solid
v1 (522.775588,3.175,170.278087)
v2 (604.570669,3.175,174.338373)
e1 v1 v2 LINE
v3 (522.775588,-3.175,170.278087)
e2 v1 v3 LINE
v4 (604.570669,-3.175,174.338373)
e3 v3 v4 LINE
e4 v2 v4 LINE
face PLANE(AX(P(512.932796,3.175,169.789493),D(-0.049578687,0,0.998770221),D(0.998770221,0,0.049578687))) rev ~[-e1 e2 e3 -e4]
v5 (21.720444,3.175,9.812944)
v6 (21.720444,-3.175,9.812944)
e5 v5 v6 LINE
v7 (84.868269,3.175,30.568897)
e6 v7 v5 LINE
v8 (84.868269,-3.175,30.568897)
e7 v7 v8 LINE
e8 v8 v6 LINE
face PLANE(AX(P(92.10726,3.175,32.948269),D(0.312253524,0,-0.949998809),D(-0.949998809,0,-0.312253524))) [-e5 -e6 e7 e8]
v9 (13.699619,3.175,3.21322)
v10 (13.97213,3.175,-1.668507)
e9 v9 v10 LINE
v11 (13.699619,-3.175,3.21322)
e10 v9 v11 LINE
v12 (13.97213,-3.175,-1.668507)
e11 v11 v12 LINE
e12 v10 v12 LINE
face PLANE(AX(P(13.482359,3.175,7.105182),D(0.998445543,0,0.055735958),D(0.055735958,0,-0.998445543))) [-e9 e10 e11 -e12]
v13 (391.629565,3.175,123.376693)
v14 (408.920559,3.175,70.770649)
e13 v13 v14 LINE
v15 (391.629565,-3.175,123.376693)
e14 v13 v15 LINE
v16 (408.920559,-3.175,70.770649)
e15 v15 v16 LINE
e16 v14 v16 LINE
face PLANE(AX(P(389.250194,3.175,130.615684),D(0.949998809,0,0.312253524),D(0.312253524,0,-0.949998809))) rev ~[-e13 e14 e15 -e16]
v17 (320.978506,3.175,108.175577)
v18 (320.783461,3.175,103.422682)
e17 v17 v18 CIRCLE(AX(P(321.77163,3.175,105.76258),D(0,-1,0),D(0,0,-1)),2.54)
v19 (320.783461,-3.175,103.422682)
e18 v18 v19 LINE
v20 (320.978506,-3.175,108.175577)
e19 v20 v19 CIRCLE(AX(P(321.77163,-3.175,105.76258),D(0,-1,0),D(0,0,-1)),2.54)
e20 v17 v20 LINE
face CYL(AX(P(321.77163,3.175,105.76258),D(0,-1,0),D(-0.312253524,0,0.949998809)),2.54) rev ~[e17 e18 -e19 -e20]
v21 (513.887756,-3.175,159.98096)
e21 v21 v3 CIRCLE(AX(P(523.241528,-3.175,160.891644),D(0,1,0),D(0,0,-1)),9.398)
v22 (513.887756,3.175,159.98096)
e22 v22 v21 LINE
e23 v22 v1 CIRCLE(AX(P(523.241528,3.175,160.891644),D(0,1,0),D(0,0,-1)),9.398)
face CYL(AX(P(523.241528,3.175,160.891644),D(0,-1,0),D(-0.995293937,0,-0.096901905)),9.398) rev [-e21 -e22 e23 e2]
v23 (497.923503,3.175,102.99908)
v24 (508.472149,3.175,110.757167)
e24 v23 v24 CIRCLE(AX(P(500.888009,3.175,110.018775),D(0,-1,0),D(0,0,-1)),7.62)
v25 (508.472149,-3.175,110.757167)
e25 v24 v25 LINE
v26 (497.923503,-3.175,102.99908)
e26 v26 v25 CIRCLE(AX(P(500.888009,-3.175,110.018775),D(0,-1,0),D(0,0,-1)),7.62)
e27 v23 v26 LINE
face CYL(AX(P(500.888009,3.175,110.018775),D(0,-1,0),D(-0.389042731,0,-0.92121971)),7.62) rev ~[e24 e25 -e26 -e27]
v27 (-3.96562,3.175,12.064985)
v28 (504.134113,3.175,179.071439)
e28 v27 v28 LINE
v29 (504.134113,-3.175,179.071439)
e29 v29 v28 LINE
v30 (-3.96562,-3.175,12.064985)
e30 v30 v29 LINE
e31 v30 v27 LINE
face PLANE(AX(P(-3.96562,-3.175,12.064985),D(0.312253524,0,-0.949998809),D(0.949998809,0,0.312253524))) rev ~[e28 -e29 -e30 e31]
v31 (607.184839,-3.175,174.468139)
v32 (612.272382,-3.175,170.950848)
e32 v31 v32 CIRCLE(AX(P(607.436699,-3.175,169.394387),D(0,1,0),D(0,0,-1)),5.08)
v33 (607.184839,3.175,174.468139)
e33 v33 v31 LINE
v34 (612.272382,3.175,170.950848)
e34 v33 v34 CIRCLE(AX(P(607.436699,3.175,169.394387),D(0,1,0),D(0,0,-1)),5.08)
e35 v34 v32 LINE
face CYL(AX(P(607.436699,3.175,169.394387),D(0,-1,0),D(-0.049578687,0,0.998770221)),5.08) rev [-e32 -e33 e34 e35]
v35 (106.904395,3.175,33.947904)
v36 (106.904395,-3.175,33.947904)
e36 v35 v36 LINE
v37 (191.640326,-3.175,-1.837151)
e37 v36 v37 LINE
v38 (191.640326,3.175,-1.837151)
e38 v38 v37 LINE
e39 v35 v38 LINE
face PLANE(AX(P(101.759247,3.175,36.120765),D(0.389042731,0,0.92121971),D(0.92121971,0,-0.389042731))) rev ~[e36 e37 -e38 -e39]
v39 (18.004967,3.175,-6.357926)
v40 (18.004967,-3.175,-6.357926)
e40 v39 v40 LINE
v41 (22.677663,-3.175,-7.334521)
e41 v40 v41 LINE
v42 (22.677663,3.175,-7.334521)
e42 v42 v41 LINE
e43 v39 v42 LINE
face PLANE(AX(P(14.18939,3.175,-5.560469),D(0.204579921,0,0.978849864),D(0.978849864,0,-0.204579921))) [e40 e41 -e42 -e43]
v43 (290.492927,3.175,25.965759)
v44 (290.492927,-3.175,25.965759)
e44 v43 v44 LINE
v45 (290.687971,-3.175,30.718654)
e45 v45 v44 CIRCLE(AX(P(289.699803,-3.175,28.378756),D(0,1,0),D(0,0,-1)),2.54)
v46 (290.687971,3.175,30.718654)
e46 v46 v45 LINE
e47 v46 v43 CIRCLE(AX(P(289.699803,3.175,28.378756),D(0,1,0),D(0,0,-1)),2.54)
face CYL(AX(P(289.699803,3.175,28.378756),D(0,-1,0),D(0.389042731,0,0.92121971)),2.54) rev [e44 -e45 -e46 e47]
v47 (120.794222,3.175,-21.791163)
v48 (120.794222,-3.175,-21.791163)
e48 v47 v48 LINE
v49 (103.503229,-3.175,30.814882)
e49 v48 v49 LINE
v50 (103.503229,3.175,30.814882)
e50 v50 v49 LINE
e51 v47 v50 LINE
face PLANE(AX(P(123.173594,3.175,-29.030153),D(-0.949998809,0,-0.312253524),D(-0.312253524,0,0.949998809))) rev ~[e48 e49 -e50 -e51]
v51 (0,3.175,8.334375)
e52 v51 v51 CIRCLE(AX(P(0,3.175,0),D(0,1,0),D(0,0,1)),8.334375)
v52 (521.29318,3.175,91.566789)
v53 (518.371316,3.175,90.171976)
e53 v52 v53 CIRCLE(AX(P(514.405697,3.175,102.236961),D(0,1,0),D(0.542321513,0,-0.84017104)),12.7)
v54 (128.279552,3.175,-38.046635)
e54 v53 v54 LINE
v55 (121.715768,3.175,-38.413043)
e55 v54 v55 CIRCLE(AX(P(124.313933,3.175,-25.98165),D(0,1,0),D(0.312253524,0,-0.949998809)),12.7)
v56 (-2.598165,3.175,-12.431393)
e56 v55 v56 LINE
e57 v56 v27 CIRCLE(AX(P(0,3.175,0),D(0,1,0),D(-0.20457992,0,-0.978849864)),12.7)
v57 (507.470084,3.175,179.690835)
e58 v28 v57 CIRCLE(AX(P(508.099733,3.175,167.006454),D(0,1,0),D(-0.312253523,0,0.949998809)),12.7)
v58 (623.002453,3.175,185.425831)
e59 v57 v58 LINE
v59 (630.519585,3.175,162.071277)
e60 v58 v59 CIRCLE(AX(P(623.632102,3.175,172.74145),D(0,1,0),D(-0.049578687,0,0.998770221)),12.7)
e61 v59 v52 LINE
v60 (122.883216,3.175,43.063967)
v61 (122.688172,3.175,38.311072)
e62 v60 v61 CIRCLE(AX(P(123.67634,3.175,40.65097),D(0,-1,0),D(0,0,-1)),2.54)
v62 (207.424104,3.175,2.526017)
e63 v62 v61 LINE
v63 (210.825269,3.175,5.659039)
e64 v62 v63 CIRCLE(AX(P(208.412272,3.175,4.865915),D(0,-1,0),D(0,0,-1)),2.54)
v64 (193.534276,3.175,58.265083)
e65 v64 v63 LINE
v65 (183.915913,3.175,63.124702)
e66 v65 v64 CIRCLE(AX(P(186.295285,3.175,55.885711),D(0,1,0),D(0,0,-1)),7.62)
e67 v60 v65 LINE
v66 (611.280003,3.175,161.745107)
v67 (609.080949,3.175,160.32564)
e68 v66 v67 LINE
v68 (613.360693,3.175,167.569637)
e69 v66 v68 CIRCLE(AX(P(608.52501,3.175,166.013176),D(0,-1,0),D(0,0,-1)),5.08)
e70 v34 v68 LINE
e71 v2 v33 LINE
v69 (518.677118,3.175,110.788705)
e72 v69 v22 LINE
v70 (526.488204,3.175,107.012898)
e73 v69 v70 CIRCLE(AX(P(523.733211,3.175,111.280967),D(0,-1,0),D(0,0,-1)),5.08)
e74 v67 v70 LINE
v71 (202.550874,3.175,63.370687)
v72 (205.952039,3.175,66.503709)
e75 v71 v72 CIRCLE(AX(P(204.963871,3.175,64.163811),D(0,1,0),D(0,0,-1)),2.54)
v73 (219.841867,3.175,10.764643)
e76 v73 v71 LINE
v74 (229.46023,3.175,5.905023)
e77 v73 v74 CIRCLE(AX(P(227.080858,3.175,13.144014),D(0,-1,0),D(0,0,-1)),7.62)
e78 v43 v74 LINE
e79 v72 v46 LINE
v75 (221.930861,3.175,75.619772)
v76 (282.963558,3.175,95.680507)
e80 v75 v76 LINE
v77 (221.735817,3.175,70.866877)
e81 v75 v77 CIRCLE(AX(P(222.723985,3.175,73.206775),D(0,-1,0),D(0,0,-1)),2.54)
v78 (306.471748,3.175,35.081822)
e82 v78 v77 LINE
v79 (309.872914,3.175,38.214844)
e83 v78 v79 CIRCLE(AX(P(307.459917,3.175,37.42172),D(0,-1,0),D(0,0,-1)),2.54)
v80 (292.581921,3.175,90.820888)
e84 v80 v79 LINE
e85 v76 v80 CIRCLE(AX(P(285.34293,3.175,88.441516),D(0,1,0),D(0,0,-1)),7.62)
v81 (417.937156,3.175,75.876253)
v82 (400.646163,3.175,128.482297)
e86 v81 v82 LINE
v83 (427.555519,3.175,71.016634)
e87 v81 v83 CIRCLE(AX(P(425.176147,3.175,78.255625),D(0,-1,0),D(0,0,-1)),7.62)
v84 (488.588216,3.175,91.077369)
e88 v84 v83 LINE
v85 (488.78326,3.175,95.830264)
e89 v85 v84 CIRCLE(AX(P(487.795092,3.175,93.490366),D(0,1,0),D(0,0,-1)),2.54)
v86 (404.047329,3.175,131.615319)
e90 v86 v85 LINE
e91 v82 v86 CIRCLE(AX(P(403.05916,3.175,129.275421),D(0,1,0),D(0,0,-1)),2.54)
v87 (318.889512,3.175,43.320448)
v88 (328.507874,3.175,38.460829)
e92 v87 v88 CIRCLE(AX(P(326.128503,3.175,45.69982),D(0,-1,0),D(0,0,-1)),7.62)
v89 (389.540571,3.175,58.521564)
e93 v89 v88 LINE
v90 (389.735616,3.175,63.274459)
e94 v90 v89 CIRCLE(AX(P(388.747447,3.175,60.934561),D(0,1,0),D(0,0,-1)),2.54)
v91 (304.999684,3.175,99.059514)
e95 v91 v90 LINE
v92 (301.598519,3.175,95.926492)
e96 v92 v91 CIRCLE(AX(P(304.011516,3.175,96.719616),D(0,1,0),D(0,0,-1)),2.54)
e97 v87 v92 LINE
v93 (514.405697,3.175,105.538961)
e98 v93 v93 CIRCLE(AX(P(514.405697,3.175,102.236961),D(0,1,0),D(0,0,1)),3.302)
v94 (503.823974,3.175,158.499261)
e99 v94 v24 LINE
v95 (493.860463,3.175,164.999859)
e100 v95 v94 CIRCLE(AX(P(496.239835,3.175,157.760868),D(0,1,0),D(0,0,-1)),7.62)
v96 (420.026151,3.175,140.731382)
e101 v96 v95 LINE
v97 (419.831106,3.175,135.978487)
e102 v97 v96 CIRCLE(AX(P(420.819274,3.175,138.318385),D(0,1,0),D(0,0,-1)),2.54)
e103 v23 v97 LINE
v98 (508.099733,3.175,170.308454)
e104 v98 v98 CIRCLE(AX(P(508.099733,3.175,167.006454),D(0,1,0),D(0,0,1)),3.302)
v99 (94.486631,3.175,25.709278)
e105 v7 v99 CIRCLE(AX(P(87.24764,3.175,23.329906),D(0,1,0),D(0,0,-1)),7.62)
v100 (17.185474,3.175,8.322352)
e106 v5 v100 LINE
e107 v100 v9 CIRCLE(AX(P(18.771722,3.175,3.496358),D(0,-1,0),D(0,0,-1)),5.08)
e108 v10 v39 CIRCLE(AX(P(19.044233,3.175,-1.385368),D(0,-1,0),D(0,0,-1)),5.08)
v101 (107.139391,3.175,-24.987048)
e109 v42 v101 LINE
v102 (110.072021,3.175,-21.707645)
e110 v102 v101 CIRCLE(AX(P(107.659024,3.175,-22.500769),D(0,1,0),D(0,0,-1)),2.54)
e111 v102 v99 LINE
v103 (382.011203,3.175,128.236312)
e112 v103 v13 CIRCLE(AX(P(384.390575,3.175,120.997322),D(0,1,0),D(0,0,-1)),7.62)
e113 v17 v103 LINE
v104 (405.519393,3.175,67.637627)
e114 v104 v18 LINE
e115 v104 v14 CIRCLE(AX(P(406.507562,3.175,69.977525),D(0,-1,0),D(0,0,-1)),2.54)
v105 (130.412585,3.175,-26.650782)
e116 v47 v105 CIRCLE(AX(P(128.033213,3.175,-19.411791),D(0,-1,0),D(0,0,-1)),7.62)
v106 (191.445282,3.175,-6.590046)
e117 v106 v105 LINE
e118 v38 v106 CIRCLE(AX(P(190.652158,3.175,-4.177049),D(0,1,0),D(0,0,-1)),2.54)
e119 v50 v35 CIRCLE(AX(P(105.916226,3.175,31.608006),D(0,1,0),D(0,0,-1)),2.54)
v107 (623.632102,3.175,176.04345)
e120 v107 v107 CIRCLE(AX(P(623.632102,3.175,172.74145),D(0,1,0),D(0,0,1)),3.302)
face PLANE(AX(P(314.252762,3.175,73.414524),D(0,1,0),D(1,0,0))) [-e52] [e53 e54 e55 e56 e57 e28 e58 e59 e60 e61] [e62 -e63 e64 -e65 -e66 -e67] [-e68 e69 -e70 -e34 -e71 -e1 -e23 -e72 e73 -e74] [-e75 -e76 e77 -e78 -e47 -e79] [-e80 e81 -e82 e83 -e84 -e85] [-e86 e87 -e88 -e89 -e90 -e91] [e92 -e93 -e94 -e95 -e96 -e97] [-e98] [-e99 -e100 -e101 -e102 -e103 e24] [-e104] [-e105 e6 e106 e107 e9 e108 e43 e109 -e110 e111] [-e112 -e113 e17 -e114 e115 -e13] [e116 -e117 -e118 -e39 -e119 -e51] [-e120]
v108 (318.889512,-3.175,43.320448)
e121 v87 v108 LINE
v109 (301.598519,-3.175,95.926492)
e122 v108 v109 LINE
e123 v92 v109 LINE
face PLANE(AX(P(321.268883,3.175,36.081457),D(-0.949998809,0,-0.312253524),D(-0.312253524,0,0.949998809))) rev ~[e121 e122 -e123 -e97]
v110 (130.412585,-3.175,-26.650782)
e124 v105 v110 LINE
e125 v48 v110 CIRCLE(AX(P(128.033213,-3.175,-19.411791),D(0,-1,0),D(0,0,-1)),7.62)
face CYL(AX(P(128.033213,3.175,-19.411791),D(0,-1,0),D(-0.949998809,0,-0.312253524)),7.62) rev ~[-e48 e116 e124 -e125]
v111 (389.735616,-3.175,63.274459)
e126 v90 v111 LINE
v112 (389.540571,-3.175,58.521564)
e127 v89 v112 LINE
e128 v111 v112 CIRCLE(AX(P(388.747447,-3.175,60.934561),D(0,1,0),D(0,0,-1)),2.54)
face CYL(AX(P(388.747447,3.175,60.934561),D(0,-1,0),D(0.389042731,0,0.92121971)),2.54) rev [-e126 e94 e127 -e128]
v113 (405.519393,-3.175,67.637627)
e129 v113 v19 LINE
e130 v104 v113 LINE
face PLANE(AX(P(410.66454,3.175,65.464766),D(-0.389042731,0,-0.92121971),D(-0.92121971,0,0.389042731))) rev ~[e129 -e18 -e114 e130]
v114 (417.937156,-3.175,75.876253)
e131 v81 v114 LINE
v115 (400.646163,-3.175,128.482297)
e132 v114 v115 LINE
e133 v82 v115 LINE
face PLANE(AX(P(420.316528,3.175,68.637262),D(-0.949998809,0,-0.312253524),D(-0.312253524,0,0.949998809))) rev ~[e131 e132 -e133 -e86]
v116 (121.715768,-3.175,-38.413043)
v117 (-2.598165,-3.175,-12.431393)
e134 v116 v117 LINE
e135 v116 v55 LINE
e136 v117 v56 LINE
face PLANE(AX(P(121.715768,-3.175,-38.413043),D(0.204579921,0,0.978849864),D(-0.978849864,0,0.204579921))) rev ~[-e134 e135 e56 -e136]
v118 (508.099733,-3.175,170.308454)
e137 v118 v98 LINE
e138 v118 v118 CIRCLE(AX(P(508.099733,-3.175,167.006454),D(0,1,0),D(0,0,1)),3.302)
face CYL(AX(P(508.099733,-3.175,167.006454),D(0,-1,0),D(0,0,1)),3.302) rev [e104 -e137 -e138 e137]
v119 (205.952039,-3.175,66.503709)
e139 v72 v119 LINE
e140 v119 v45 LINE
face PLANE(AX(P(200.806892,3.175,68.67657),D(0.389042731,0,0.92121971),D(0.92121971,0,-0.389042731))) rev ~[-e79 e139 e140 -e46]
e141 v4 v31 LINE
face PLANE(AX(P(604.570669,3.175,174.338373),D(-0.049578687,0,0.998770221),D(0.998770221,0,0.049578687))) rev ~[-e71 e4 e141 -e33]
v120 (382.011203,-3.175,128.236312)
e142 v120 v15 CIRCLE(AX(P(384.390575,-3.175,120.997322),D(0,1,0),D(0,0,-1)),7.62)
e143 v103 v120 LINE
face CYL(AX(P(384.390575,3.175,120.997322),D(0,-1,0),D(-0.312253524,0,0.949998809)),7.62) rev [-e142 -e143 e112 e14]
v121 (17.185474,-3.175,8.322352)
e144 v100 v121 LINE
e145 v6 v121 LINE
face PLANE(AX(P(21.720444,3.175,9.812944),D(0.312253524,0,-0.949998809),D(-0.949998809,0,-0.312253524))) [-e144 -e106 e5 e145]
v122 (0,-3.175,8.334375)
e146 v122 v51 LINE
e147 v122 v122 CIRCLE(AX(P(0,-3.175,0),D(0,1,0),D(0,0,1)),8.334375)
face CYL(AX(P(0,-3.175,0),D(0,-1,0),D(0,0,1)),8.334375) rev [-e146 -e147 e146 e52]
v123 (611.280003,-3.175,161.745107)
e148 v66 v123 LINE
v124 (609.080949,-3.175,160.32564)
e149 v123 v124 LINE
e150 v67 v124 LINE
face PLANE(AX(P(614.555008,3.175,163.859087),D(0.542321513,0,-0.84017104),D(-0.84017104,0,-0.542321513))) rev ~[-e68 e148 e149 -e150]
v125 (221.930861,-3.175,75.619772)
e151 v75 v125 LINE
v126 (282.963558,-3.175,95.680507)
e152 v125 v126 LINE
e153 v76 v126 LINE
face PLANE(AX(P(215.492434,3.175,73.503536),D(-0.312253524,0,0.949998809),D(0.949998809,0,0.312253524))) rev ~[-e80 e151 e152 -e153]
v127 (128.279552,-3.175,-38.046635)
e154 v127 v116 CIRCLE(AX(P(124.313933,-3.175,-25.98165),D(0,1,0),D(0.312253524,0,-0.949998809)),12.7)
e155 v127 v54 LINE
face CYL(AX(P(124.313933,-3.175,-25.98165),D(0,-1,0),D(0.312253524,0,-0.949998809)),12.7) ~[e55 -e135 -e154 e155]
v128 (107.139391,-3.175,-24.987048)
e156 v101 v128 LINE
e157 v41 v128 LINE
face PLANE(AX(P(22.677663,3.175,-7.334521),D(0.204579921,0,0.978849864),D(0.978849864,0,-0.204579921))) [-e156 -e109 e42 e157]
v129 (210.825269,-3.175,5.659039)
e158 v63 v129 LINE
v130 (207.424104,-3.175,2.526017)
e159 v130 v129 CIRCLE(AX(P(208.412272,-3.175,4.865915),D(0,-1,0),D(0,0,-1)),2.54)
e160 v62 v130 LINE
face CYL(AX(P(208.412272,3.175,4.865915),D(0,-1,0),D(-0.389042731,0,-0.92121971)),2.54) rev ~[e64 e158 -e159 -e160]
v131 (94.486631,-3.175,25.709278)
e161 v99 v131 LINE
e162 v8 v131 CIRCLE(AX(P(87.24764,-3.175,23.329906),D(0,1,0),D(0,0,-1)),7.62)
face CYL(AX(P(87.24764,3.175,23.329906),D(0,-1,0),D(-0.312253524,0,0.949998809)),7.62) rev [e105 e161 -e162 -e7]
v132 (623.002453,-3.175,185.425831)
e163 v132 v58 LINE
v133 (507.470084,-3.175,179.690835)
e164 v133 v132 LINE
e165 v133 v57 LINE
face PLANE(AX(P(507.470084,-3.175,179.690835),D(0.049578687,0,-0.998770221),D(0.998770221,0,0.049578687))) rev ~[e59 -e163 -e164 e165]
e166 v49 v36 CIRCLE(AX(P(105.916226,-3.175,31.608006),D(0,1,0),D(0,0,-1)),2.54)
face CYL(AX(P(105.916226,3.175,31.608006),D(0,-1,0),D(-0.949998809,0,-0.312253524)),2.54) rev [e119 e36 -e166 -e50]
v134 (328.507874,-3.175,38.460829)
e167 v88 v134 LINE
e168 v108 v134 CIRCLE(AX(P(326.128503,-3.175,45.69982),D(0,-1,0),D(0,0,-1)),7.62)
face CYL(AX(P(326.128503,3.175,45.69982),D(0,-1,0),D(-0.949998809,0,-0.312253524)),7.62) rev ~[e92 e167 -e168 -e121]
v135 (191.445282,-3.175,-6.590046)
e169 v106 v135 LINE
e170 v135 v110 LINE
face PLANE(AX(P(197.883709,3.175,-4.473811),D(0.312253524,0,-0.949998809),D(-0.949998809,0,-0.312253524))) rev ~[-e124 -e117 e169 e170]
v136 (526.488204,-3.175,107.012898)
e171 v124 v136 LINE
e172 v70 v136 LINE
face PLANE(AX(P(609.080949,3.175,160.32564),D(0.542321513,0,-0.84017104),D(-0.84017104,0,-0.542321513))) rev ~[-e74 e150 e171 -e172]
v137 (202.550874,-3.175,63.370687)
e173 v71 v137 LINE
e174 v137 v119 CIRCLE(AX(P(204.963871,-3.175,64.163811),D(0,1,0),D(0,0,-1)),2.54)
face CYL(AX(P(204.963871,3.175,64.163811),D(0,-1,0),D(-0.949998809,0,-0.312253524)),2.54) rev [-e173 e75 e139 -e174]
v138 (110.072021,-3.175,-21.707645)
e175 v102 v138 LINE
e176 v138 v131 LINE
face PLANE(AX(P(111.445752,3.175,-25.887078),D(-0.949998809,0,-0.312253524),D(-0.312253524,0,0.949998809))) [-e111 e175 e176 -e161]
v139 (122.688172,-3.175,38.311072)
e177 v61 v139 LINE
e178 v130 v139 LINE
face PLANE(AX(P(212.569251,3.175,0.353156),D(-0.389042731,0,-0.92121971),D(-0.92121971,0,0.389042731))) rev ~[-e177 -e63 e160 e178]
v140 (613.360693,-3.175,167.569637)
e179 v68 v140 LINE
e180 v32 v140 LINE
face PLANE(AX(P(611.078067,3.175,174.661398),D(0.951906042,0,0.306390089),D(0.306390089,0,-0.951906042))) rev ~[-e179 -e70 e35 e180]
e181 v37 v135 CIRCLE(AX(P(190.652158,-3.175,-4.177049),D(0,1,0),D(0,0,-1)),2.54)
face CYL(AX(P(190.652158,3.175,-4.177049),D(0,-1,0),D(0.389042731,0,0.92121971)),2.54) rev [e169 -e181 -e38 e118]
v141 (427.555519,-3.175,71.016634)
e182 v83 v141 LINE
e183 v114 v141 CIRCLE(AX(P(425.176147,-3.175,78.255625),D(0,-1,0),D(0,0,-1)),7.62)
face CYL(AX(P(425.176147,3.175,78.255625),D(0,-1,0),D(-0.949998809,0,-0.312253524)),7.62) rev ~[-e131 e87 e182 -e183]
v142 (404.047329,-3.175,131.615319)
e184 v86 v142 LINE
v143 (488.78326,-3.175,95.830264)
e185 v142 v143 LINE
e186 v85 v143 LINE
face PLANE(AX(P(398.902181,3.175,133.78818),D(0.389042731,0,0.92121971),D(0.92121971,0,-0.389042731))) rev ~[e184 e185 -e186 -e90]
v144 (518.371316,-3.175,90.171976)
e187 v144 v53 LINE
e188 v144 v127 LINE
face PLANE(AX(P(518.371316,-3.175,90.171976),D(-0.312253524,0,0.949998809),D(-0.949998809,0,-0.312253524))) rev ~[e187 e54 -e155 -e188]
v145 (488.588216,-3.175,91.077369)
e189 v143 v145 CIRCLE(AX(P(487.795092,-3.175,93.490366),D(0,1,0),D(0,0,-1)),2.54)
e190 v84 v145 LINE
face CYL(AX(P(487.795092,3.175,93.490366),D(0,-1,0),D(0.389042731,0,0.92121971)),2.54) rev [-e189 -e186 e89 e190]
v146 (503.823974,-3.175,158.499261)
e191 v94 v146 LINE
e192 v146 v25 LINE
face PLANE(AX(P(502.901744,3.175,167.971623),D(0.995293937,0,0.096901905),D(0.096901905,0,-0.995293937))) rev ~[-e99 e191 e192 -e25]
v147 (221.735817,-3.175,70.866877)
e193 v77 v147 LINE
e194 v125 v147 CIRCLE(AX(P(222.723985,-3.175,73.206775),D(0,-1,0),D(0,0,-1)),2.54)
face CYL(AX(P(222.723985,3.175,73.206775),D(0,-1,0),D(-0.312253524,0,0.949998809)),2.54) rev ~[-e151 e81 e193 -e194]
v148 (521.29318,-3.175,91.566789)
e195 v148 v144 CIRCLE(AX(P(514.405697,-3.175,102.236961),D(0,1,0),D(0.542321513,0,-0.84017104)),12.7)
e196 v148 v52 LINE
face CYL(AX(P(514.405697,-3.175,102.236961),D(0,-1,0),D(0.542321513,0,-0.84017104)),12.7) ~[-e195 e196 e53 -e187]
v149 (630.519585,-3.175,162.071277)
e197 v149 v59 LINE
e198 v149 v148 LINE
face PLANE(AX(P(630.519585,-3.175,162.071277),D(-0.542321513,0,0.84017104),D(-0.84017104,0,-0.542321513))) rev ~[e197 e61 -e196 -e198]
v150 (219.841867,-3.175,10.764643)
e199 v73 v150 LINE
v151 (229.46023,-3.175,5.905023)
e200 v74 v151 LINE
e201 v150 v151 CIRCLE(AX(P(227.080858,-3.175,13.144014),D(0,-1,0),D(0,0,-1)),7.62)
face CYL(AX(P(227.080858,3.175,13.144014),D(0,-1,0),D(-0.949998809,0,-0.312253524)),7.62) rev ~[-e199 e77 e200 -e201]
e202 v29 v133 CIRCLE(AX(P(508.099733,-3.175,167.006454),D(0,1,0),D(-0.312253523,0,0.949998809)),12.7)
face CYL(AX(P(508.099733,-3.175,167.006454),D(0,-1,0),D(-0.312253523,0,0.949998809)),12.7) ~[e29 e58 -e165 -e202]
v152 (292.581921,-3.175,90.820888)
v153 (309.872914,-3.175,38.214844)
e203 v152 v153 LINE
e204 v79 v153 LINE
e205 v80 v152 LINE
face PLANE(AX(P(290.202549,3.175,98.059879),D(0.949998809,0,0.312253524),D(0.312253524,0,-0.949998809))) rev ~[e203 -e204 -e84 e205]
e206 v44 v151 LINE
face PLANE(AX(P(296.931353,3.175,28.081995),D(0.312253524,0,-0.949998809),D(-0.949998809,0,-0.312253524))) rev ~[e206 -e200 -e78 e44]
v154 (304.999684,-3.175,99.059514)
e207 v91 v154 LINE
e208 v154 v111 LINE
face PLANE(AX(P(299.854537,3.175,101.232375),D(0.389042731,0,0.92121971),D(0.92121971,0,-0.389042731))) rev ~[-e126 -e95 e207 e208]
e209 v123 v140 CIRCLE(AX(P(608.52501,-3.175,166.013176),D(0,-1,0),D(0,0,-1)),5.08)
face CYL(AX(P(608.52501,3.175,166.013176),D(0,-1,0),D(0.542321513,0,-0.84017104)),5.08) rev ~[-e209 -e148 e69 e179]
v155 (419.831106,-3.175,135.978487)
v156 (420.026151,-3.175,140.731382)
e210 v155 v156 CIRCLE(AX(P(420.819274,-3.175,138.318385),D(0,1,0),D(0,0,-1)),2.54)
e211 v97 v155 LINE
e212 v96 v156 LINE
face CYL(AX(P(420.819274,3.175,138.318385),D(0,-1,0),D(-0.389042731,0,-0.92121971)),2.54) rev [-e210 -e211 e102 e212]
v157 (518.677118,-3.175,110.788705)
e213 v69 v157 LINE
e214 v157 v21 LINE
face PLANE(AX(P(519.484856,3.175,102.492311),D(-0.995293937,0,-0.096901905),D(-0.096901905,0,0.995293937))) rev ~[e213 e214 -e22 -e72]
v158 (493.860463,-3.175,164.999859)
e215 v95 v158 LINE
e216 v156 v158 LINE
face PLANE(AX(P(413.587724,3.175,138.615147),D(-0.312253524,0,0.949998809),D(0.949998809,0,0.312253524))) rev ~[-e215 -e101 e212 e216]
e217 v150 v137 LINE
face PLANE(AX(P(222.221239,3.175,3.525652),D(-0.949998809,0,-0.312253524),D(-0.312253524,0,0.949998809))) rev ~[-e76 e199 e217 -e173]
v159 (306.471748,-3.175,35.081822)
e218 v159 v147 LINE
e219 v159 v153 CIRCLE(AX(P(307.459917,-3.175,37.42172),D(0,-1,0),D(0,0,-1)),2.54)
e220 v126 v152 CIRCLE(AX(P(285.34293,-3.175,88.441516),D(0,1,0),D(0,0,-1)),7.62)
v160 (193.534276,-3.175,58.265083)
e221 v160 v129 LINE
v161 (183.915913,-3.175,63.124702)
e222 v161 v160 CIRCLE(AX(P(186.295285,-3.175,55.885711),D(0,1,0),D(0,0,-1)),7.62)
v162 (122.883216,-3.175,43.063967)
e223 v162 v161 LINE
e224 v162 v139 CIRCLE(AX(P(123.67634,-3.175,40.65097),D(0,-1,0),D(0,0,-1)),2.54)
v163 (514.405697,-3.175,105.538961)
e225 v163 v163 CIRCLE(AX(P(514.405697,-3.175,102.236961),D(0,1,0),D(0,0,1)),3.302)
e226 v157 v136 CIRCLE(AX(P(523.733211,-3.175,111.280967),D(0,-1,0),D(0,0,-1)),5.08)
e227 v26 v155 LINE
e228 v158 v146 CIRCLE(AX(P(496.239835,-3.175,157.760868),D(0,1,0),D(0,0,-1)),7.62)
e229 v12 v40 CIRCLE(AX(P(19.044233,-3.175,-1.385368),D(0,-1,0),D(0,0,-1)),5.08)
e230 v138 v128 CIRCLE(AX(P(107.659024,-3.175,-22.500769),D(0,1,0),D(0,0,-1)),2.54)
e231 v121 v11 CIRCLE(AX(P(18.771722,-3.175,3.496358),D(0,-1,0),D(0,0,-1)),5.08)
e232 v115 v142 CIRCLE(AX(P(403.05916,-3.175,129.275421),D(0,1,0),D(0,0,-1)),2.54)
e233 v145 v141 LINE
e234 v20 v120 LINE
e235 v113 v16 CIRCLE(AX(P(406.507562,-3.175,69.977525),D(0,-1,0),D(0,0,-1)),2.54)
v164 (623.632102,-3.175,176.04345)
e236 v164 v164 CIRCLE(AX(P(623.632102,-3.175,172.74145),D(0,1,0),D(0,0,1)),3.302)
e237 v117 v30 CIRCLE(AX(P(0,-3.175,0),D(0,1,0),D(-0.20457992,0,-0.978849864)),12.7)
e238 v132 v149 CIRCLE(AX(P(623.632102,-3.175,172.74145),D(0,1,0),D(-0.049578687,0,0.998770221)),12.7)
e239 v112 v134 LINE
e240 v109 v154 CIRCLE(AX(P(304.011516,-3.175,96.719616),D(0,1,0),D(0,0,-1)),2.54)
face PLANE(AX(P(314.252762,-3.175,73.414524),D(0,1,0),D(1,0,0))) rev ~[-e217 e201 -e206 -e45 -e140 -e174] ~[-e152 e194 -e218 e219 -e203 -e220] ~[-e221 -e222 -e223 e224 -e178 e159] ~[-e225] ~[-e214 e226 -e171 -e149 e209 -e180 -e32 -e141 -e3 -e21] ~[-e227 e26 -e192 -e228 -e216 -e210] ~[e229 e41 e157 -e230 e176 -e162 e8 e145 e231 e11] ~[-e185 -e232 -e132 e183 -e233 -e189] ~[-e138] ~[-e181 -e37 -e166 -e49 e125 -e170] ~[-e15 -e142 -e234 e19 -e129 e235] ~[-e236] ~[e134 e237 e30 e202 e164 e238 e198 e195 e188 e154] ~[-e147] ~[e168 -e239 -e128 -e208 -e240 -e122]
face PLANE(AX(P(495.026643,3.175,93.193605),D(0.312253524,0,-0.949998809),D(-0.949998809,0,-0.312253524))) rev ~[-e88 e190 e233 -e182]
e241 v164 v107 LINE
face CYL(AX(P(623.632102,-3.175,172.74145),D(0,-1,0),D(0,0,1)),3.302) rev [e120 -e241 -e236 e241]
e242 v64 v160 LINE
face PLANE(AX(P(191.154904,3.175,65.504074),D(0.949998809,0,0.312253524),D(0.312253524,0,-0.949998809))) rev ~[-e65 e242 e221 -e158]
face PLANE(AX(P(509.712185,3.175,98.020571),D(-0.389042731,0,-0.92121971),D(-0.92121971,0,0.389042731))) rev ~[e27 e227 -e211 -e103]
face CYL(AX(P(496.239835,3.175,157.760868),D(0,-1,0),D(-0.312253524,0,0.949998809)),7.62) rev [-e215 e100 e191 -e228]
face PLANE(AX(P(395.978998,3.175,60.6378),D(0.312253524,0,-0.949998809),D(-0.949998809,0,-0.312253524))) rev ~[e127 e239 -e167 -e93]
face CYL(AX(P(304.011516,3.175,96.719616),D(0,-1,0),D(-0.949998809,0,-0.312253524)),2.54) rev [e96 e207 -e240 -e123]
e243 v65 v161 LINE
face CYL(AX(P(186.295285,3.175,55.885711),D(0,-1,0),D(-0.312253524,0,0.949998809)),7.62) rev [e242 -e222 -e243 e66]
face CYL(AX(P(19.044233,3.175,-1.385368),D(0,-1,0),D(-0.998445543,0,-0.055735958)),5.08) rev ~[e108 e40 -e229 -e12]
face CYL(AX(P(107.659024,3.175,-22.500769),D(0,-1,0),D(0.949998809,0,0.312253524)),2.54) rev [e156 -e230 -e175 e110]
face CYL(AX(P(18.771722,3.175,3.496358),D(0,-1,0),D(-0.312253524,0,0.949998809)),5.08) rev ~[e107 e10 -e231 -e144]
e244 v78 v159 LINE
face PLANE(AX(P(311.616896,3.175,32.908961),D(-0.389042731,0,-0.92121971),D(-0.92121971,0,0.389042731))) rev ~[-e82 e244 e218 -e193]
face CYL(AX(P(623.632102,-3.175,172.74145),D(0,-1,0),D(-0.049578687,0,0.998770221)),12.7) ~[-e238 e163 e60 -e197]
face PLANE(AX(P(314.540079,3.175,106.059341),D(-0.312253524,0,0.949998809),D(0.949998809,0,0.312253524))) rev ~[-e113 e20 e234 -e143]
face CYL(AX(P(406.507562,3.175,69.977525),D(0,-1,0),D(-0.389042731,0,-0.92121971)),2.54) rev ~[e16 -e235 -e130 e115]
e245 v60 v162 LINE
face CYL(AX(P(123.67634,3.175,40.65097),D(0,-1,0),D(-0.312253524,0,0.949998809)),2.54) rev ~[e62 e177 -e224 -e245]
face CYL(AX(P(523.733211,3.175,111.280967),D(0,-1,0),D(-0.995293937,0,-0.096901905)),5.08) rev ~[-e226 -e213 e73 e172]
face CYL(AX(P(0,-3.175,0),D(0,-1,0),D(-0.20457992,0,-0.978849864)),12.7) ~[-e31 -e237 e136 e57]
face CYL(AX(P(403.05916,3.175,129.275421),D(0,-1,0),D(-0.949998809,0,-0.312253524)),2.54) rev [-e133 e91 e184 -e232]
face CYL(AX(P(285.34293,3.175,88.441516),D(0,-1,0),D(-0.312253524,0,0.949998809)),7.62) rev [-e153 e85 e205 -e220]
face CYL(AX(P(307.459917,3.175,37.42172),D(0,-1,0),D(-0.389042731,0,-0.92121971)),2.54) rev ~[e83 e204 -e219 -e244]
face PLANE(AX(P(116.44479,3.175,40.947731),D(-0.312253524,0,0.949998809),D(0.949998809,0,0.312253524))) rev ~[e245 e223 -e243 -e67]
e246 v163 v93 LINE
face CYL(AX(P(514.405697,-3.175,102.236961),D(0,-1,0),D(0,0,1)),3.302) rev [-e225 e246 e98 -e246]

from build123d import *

# Parameters (mm, degrees)
BOSS_EXTRUDE1_DEPTH      = 3.175
BOSS_EXTRUDE1_DEPTH_BACK = 3.175
SKETCH2_R                = 8.334375
SKETCH2_R_2              = 3.302
CUT_EXTRUDE1_DEPTH       = 663.832858032
RIGHT_ANGLES_R           = 7.62
FILLET9_R                = 9.398
FILLET10_R               = 7.62
FILLET11_R               = 5.08
FILLET13_R               = 5.08
FILLET14_R               = 2.54


with BuildPart() as part:
    # Sketch2 → Boss-Extrude1 (new, two sides: drawn at the far end of the back side and taken through both)
    with BuildSketch(Plane(origin=(0, 0, 0), x_dir=(1, 0, 0), z_dir=(0, 1, 0)).offset(-BOSS_EXTRUDE1_DEPTH_BACK)):
        with BuildLine():
            Line((-3.965619751, -12.064984873), (504.134113458, -179.071438566))
            ThreePointArc((504.134113458, -179.071438566), (505.781320473, -179.493044996), (507.470083881, -179.690835496))
            Line((507.470083881, -179.690835496), (623.002452599, -185.425831444))
            ThreePointArc((623.002452599, -185.425831444), (635.721308663, -176.632603773), (630.519585141, -162.071277432))
            Line((630.519585141, -162.071277432), (521.293179876, -91.566789023))
            ThreePointArc((521.293179876, -91.566789023), (519.876879037, -90.77588958), (518.371316412, -90.171976358))
            Line((518.371316412, -90.171976358), (128.279552471, 38.046634777))
            ThreePointArc((128.279552471, 38.046634777), (125.021779391, 38.661908304), (121.715767729, 38.413043176))
            Line((121.715767729, 38.413043176), (-2.59816499, 12.431393272))
            ThreePointArc((-2.59816499, 12.431393272), (-12.6802584, 0.707846671), (-3.965619751, -12.064984873))
        make_face()
        Circle(SKETCH2_R, mode=Mode.SUBTRACT)
        with Locations((623.632101926, -172.741449641)):
            Circle(SKETCH2_R_2, mode=Mode.SUBTRACT)
        with Locations((508.099733209, -167.006453693)):
            Circle(SKETCH2_R_2, mode=Mode.SUBTRACT)
        with Locations((514.405696661, -102.236961232)):
            Circle(SKETCH2_R_2, mode=Mode.SUBTRACT)
    extrude(amount=BOSS_EXTRUDE1_DEPTH + BOSS_EXTRUDE1_DEPTH_BACK)

    # Sketch4 → Cut-Extrude1 (cut, through all)
    with BuildSketch(Plane(origin=(0, 3.175, 0), x_dir=(1, 0, 0), z_dir=(0, 1, 0))):
        Polygon((123.173594128, 29.030153456), (101.759247472, -36.120764859), (197.883708709, 4.473810527), align=None)
        Polygon((212.569250905, -0.353155839), (116.444789668, -40.947731225), (191.154904249, -65.504074154), align=None)
        Polygon((222.221238803, -3.52565164), (200.806892147, -68.676569955), (296.931353384, -28.08199457), align=None)
        Polygon((311.61689558, -32.908960935), (215.492434343, -73.503536321), (290.202548924, -98.059879251), align=None)
        Polygon((321.268883479, -36.081456736), (299.854536823, -101.232375051), (395.97899806, -60.637799666), align=None)
        Polygon((410.664540256, -65.464766032), (314.540079019, -106.059341417), (389.2501936, -130.615684347), align=None)
        Polygon((519.484855658, -102.492310656), (512.932796085, -169.789493129), (604.57066912, -174.338372689), (611.078066813, -174.661398174), (614.555007617, -163.859087404), (609.080948645, -160.325640282), align=None)
        Polygon((509.712184931, -98.020571128), (413.587723694, -138.615146514), (502.901744402, -167.971622986), align=None)
        Polygon((420.316528154, -68.637261833), (398.902181498, -133.788180148), (495.026642735, -93.193604762), align=None)
        Polygon((22.677662652, 7.33452053), (111.445751733, 25.887078258), (92.107259573, -32.948269058), (21.720444319, -9.812944172), (13.482358668, -7.105181542), (14.189389884, 5.560468929), align=None)
    extrude(amount=-CUT_EXTRUDE1_DEPTH, mode=Mode.SUBTRACT)

    # right angles
    right_angles_edges = [part.edges().sort_by_distance(p)[0] for p in [
        (420.316528154, 0, 68.637261833),
        (321.268883479, 0, 36.081456736),
        (389.2501936, 0, 130.615684347),
        (502.901744402, 0, 167.971622986),
        (290.202548924, 0, 98.059879251),
        (222.221238803, 0, 3.52565164),
        (191.154904249, 0, 65.504074154),
        (123.173594128, 0, -29.030153456),
        (92.107259573, 0, 32.948269058),
    ]]
    fillet(right_angles_edges, radius=RIGHT_ANGLES_R)

    # Fillet9
    fillet9_edges = [part.edges().sort_by_distance(p)[0] for p in [
        (512.932796085, 0, 169.789493129),
    ]]
    fillet(fillet9_edges, radius=FILLET9_R)

    # Fillet10
    fillet10_edges = [part.edges().sort_by_distance(p)[0] for p in [
        (509.712184931, 0, 98.020571128),
    ]]
    fillet(fillet10_edges, radius=FILLET10_R)

    # Fillet11
    fillet11_edges = [part.edges().sort_by_distance(p)[0] for p in [
        (519.484855658, 0, 102.492310656),
    ]]
    fillet(fillet11_edges, radius=FILLET11_R)

    # Fillet13
    fillet13_edges = [part.edges().sort_by_distance(p)[0] for p in [
        (614.555007617, 0, 163.859087404),
        (611.078066813, 0, 174.661398174),
        (13.482358668, 0, 7.105181542),
        (14.189389884, 0, -5.560468929),
    ]]
    fillet(fillet13_edges, radius=FILLET13_R)

    # Fillet14
    fillet14_edges = [part.edges().sort_by_distance(p)[0] for p in [
        (410.664540256, 0, 65.464766032),
        (311.61689558, 0, 32.908960935),
        (413.587723694, 0, 138.615146514),
        (215.492434343, 0, 73.503536321),
        (314.540079019, 0, 106.059341417),
        (398.902181498, 0, 133.788180148),
        (299.854536823, 0, 101.232375051),
        (200.806892147, 0, 68.676569955),
        (212.569250905, 0, 0.353155839),
        (101.759247472, 0, 36.120764859),
        (116.444789668, 0, 40.947731225),
        (495.026642735, 0, 93.193604762),
        (395.97899806, 0, 60.637799666),
        (296.931353384, 0, 28.08199457),
        (197.883708709, 0, -4.473810527),
        (111.445751733, 0, -25.887078258),
    ]]
    fillet(fillet14_edges, radius=FILLET14_R)


solid = part.part
